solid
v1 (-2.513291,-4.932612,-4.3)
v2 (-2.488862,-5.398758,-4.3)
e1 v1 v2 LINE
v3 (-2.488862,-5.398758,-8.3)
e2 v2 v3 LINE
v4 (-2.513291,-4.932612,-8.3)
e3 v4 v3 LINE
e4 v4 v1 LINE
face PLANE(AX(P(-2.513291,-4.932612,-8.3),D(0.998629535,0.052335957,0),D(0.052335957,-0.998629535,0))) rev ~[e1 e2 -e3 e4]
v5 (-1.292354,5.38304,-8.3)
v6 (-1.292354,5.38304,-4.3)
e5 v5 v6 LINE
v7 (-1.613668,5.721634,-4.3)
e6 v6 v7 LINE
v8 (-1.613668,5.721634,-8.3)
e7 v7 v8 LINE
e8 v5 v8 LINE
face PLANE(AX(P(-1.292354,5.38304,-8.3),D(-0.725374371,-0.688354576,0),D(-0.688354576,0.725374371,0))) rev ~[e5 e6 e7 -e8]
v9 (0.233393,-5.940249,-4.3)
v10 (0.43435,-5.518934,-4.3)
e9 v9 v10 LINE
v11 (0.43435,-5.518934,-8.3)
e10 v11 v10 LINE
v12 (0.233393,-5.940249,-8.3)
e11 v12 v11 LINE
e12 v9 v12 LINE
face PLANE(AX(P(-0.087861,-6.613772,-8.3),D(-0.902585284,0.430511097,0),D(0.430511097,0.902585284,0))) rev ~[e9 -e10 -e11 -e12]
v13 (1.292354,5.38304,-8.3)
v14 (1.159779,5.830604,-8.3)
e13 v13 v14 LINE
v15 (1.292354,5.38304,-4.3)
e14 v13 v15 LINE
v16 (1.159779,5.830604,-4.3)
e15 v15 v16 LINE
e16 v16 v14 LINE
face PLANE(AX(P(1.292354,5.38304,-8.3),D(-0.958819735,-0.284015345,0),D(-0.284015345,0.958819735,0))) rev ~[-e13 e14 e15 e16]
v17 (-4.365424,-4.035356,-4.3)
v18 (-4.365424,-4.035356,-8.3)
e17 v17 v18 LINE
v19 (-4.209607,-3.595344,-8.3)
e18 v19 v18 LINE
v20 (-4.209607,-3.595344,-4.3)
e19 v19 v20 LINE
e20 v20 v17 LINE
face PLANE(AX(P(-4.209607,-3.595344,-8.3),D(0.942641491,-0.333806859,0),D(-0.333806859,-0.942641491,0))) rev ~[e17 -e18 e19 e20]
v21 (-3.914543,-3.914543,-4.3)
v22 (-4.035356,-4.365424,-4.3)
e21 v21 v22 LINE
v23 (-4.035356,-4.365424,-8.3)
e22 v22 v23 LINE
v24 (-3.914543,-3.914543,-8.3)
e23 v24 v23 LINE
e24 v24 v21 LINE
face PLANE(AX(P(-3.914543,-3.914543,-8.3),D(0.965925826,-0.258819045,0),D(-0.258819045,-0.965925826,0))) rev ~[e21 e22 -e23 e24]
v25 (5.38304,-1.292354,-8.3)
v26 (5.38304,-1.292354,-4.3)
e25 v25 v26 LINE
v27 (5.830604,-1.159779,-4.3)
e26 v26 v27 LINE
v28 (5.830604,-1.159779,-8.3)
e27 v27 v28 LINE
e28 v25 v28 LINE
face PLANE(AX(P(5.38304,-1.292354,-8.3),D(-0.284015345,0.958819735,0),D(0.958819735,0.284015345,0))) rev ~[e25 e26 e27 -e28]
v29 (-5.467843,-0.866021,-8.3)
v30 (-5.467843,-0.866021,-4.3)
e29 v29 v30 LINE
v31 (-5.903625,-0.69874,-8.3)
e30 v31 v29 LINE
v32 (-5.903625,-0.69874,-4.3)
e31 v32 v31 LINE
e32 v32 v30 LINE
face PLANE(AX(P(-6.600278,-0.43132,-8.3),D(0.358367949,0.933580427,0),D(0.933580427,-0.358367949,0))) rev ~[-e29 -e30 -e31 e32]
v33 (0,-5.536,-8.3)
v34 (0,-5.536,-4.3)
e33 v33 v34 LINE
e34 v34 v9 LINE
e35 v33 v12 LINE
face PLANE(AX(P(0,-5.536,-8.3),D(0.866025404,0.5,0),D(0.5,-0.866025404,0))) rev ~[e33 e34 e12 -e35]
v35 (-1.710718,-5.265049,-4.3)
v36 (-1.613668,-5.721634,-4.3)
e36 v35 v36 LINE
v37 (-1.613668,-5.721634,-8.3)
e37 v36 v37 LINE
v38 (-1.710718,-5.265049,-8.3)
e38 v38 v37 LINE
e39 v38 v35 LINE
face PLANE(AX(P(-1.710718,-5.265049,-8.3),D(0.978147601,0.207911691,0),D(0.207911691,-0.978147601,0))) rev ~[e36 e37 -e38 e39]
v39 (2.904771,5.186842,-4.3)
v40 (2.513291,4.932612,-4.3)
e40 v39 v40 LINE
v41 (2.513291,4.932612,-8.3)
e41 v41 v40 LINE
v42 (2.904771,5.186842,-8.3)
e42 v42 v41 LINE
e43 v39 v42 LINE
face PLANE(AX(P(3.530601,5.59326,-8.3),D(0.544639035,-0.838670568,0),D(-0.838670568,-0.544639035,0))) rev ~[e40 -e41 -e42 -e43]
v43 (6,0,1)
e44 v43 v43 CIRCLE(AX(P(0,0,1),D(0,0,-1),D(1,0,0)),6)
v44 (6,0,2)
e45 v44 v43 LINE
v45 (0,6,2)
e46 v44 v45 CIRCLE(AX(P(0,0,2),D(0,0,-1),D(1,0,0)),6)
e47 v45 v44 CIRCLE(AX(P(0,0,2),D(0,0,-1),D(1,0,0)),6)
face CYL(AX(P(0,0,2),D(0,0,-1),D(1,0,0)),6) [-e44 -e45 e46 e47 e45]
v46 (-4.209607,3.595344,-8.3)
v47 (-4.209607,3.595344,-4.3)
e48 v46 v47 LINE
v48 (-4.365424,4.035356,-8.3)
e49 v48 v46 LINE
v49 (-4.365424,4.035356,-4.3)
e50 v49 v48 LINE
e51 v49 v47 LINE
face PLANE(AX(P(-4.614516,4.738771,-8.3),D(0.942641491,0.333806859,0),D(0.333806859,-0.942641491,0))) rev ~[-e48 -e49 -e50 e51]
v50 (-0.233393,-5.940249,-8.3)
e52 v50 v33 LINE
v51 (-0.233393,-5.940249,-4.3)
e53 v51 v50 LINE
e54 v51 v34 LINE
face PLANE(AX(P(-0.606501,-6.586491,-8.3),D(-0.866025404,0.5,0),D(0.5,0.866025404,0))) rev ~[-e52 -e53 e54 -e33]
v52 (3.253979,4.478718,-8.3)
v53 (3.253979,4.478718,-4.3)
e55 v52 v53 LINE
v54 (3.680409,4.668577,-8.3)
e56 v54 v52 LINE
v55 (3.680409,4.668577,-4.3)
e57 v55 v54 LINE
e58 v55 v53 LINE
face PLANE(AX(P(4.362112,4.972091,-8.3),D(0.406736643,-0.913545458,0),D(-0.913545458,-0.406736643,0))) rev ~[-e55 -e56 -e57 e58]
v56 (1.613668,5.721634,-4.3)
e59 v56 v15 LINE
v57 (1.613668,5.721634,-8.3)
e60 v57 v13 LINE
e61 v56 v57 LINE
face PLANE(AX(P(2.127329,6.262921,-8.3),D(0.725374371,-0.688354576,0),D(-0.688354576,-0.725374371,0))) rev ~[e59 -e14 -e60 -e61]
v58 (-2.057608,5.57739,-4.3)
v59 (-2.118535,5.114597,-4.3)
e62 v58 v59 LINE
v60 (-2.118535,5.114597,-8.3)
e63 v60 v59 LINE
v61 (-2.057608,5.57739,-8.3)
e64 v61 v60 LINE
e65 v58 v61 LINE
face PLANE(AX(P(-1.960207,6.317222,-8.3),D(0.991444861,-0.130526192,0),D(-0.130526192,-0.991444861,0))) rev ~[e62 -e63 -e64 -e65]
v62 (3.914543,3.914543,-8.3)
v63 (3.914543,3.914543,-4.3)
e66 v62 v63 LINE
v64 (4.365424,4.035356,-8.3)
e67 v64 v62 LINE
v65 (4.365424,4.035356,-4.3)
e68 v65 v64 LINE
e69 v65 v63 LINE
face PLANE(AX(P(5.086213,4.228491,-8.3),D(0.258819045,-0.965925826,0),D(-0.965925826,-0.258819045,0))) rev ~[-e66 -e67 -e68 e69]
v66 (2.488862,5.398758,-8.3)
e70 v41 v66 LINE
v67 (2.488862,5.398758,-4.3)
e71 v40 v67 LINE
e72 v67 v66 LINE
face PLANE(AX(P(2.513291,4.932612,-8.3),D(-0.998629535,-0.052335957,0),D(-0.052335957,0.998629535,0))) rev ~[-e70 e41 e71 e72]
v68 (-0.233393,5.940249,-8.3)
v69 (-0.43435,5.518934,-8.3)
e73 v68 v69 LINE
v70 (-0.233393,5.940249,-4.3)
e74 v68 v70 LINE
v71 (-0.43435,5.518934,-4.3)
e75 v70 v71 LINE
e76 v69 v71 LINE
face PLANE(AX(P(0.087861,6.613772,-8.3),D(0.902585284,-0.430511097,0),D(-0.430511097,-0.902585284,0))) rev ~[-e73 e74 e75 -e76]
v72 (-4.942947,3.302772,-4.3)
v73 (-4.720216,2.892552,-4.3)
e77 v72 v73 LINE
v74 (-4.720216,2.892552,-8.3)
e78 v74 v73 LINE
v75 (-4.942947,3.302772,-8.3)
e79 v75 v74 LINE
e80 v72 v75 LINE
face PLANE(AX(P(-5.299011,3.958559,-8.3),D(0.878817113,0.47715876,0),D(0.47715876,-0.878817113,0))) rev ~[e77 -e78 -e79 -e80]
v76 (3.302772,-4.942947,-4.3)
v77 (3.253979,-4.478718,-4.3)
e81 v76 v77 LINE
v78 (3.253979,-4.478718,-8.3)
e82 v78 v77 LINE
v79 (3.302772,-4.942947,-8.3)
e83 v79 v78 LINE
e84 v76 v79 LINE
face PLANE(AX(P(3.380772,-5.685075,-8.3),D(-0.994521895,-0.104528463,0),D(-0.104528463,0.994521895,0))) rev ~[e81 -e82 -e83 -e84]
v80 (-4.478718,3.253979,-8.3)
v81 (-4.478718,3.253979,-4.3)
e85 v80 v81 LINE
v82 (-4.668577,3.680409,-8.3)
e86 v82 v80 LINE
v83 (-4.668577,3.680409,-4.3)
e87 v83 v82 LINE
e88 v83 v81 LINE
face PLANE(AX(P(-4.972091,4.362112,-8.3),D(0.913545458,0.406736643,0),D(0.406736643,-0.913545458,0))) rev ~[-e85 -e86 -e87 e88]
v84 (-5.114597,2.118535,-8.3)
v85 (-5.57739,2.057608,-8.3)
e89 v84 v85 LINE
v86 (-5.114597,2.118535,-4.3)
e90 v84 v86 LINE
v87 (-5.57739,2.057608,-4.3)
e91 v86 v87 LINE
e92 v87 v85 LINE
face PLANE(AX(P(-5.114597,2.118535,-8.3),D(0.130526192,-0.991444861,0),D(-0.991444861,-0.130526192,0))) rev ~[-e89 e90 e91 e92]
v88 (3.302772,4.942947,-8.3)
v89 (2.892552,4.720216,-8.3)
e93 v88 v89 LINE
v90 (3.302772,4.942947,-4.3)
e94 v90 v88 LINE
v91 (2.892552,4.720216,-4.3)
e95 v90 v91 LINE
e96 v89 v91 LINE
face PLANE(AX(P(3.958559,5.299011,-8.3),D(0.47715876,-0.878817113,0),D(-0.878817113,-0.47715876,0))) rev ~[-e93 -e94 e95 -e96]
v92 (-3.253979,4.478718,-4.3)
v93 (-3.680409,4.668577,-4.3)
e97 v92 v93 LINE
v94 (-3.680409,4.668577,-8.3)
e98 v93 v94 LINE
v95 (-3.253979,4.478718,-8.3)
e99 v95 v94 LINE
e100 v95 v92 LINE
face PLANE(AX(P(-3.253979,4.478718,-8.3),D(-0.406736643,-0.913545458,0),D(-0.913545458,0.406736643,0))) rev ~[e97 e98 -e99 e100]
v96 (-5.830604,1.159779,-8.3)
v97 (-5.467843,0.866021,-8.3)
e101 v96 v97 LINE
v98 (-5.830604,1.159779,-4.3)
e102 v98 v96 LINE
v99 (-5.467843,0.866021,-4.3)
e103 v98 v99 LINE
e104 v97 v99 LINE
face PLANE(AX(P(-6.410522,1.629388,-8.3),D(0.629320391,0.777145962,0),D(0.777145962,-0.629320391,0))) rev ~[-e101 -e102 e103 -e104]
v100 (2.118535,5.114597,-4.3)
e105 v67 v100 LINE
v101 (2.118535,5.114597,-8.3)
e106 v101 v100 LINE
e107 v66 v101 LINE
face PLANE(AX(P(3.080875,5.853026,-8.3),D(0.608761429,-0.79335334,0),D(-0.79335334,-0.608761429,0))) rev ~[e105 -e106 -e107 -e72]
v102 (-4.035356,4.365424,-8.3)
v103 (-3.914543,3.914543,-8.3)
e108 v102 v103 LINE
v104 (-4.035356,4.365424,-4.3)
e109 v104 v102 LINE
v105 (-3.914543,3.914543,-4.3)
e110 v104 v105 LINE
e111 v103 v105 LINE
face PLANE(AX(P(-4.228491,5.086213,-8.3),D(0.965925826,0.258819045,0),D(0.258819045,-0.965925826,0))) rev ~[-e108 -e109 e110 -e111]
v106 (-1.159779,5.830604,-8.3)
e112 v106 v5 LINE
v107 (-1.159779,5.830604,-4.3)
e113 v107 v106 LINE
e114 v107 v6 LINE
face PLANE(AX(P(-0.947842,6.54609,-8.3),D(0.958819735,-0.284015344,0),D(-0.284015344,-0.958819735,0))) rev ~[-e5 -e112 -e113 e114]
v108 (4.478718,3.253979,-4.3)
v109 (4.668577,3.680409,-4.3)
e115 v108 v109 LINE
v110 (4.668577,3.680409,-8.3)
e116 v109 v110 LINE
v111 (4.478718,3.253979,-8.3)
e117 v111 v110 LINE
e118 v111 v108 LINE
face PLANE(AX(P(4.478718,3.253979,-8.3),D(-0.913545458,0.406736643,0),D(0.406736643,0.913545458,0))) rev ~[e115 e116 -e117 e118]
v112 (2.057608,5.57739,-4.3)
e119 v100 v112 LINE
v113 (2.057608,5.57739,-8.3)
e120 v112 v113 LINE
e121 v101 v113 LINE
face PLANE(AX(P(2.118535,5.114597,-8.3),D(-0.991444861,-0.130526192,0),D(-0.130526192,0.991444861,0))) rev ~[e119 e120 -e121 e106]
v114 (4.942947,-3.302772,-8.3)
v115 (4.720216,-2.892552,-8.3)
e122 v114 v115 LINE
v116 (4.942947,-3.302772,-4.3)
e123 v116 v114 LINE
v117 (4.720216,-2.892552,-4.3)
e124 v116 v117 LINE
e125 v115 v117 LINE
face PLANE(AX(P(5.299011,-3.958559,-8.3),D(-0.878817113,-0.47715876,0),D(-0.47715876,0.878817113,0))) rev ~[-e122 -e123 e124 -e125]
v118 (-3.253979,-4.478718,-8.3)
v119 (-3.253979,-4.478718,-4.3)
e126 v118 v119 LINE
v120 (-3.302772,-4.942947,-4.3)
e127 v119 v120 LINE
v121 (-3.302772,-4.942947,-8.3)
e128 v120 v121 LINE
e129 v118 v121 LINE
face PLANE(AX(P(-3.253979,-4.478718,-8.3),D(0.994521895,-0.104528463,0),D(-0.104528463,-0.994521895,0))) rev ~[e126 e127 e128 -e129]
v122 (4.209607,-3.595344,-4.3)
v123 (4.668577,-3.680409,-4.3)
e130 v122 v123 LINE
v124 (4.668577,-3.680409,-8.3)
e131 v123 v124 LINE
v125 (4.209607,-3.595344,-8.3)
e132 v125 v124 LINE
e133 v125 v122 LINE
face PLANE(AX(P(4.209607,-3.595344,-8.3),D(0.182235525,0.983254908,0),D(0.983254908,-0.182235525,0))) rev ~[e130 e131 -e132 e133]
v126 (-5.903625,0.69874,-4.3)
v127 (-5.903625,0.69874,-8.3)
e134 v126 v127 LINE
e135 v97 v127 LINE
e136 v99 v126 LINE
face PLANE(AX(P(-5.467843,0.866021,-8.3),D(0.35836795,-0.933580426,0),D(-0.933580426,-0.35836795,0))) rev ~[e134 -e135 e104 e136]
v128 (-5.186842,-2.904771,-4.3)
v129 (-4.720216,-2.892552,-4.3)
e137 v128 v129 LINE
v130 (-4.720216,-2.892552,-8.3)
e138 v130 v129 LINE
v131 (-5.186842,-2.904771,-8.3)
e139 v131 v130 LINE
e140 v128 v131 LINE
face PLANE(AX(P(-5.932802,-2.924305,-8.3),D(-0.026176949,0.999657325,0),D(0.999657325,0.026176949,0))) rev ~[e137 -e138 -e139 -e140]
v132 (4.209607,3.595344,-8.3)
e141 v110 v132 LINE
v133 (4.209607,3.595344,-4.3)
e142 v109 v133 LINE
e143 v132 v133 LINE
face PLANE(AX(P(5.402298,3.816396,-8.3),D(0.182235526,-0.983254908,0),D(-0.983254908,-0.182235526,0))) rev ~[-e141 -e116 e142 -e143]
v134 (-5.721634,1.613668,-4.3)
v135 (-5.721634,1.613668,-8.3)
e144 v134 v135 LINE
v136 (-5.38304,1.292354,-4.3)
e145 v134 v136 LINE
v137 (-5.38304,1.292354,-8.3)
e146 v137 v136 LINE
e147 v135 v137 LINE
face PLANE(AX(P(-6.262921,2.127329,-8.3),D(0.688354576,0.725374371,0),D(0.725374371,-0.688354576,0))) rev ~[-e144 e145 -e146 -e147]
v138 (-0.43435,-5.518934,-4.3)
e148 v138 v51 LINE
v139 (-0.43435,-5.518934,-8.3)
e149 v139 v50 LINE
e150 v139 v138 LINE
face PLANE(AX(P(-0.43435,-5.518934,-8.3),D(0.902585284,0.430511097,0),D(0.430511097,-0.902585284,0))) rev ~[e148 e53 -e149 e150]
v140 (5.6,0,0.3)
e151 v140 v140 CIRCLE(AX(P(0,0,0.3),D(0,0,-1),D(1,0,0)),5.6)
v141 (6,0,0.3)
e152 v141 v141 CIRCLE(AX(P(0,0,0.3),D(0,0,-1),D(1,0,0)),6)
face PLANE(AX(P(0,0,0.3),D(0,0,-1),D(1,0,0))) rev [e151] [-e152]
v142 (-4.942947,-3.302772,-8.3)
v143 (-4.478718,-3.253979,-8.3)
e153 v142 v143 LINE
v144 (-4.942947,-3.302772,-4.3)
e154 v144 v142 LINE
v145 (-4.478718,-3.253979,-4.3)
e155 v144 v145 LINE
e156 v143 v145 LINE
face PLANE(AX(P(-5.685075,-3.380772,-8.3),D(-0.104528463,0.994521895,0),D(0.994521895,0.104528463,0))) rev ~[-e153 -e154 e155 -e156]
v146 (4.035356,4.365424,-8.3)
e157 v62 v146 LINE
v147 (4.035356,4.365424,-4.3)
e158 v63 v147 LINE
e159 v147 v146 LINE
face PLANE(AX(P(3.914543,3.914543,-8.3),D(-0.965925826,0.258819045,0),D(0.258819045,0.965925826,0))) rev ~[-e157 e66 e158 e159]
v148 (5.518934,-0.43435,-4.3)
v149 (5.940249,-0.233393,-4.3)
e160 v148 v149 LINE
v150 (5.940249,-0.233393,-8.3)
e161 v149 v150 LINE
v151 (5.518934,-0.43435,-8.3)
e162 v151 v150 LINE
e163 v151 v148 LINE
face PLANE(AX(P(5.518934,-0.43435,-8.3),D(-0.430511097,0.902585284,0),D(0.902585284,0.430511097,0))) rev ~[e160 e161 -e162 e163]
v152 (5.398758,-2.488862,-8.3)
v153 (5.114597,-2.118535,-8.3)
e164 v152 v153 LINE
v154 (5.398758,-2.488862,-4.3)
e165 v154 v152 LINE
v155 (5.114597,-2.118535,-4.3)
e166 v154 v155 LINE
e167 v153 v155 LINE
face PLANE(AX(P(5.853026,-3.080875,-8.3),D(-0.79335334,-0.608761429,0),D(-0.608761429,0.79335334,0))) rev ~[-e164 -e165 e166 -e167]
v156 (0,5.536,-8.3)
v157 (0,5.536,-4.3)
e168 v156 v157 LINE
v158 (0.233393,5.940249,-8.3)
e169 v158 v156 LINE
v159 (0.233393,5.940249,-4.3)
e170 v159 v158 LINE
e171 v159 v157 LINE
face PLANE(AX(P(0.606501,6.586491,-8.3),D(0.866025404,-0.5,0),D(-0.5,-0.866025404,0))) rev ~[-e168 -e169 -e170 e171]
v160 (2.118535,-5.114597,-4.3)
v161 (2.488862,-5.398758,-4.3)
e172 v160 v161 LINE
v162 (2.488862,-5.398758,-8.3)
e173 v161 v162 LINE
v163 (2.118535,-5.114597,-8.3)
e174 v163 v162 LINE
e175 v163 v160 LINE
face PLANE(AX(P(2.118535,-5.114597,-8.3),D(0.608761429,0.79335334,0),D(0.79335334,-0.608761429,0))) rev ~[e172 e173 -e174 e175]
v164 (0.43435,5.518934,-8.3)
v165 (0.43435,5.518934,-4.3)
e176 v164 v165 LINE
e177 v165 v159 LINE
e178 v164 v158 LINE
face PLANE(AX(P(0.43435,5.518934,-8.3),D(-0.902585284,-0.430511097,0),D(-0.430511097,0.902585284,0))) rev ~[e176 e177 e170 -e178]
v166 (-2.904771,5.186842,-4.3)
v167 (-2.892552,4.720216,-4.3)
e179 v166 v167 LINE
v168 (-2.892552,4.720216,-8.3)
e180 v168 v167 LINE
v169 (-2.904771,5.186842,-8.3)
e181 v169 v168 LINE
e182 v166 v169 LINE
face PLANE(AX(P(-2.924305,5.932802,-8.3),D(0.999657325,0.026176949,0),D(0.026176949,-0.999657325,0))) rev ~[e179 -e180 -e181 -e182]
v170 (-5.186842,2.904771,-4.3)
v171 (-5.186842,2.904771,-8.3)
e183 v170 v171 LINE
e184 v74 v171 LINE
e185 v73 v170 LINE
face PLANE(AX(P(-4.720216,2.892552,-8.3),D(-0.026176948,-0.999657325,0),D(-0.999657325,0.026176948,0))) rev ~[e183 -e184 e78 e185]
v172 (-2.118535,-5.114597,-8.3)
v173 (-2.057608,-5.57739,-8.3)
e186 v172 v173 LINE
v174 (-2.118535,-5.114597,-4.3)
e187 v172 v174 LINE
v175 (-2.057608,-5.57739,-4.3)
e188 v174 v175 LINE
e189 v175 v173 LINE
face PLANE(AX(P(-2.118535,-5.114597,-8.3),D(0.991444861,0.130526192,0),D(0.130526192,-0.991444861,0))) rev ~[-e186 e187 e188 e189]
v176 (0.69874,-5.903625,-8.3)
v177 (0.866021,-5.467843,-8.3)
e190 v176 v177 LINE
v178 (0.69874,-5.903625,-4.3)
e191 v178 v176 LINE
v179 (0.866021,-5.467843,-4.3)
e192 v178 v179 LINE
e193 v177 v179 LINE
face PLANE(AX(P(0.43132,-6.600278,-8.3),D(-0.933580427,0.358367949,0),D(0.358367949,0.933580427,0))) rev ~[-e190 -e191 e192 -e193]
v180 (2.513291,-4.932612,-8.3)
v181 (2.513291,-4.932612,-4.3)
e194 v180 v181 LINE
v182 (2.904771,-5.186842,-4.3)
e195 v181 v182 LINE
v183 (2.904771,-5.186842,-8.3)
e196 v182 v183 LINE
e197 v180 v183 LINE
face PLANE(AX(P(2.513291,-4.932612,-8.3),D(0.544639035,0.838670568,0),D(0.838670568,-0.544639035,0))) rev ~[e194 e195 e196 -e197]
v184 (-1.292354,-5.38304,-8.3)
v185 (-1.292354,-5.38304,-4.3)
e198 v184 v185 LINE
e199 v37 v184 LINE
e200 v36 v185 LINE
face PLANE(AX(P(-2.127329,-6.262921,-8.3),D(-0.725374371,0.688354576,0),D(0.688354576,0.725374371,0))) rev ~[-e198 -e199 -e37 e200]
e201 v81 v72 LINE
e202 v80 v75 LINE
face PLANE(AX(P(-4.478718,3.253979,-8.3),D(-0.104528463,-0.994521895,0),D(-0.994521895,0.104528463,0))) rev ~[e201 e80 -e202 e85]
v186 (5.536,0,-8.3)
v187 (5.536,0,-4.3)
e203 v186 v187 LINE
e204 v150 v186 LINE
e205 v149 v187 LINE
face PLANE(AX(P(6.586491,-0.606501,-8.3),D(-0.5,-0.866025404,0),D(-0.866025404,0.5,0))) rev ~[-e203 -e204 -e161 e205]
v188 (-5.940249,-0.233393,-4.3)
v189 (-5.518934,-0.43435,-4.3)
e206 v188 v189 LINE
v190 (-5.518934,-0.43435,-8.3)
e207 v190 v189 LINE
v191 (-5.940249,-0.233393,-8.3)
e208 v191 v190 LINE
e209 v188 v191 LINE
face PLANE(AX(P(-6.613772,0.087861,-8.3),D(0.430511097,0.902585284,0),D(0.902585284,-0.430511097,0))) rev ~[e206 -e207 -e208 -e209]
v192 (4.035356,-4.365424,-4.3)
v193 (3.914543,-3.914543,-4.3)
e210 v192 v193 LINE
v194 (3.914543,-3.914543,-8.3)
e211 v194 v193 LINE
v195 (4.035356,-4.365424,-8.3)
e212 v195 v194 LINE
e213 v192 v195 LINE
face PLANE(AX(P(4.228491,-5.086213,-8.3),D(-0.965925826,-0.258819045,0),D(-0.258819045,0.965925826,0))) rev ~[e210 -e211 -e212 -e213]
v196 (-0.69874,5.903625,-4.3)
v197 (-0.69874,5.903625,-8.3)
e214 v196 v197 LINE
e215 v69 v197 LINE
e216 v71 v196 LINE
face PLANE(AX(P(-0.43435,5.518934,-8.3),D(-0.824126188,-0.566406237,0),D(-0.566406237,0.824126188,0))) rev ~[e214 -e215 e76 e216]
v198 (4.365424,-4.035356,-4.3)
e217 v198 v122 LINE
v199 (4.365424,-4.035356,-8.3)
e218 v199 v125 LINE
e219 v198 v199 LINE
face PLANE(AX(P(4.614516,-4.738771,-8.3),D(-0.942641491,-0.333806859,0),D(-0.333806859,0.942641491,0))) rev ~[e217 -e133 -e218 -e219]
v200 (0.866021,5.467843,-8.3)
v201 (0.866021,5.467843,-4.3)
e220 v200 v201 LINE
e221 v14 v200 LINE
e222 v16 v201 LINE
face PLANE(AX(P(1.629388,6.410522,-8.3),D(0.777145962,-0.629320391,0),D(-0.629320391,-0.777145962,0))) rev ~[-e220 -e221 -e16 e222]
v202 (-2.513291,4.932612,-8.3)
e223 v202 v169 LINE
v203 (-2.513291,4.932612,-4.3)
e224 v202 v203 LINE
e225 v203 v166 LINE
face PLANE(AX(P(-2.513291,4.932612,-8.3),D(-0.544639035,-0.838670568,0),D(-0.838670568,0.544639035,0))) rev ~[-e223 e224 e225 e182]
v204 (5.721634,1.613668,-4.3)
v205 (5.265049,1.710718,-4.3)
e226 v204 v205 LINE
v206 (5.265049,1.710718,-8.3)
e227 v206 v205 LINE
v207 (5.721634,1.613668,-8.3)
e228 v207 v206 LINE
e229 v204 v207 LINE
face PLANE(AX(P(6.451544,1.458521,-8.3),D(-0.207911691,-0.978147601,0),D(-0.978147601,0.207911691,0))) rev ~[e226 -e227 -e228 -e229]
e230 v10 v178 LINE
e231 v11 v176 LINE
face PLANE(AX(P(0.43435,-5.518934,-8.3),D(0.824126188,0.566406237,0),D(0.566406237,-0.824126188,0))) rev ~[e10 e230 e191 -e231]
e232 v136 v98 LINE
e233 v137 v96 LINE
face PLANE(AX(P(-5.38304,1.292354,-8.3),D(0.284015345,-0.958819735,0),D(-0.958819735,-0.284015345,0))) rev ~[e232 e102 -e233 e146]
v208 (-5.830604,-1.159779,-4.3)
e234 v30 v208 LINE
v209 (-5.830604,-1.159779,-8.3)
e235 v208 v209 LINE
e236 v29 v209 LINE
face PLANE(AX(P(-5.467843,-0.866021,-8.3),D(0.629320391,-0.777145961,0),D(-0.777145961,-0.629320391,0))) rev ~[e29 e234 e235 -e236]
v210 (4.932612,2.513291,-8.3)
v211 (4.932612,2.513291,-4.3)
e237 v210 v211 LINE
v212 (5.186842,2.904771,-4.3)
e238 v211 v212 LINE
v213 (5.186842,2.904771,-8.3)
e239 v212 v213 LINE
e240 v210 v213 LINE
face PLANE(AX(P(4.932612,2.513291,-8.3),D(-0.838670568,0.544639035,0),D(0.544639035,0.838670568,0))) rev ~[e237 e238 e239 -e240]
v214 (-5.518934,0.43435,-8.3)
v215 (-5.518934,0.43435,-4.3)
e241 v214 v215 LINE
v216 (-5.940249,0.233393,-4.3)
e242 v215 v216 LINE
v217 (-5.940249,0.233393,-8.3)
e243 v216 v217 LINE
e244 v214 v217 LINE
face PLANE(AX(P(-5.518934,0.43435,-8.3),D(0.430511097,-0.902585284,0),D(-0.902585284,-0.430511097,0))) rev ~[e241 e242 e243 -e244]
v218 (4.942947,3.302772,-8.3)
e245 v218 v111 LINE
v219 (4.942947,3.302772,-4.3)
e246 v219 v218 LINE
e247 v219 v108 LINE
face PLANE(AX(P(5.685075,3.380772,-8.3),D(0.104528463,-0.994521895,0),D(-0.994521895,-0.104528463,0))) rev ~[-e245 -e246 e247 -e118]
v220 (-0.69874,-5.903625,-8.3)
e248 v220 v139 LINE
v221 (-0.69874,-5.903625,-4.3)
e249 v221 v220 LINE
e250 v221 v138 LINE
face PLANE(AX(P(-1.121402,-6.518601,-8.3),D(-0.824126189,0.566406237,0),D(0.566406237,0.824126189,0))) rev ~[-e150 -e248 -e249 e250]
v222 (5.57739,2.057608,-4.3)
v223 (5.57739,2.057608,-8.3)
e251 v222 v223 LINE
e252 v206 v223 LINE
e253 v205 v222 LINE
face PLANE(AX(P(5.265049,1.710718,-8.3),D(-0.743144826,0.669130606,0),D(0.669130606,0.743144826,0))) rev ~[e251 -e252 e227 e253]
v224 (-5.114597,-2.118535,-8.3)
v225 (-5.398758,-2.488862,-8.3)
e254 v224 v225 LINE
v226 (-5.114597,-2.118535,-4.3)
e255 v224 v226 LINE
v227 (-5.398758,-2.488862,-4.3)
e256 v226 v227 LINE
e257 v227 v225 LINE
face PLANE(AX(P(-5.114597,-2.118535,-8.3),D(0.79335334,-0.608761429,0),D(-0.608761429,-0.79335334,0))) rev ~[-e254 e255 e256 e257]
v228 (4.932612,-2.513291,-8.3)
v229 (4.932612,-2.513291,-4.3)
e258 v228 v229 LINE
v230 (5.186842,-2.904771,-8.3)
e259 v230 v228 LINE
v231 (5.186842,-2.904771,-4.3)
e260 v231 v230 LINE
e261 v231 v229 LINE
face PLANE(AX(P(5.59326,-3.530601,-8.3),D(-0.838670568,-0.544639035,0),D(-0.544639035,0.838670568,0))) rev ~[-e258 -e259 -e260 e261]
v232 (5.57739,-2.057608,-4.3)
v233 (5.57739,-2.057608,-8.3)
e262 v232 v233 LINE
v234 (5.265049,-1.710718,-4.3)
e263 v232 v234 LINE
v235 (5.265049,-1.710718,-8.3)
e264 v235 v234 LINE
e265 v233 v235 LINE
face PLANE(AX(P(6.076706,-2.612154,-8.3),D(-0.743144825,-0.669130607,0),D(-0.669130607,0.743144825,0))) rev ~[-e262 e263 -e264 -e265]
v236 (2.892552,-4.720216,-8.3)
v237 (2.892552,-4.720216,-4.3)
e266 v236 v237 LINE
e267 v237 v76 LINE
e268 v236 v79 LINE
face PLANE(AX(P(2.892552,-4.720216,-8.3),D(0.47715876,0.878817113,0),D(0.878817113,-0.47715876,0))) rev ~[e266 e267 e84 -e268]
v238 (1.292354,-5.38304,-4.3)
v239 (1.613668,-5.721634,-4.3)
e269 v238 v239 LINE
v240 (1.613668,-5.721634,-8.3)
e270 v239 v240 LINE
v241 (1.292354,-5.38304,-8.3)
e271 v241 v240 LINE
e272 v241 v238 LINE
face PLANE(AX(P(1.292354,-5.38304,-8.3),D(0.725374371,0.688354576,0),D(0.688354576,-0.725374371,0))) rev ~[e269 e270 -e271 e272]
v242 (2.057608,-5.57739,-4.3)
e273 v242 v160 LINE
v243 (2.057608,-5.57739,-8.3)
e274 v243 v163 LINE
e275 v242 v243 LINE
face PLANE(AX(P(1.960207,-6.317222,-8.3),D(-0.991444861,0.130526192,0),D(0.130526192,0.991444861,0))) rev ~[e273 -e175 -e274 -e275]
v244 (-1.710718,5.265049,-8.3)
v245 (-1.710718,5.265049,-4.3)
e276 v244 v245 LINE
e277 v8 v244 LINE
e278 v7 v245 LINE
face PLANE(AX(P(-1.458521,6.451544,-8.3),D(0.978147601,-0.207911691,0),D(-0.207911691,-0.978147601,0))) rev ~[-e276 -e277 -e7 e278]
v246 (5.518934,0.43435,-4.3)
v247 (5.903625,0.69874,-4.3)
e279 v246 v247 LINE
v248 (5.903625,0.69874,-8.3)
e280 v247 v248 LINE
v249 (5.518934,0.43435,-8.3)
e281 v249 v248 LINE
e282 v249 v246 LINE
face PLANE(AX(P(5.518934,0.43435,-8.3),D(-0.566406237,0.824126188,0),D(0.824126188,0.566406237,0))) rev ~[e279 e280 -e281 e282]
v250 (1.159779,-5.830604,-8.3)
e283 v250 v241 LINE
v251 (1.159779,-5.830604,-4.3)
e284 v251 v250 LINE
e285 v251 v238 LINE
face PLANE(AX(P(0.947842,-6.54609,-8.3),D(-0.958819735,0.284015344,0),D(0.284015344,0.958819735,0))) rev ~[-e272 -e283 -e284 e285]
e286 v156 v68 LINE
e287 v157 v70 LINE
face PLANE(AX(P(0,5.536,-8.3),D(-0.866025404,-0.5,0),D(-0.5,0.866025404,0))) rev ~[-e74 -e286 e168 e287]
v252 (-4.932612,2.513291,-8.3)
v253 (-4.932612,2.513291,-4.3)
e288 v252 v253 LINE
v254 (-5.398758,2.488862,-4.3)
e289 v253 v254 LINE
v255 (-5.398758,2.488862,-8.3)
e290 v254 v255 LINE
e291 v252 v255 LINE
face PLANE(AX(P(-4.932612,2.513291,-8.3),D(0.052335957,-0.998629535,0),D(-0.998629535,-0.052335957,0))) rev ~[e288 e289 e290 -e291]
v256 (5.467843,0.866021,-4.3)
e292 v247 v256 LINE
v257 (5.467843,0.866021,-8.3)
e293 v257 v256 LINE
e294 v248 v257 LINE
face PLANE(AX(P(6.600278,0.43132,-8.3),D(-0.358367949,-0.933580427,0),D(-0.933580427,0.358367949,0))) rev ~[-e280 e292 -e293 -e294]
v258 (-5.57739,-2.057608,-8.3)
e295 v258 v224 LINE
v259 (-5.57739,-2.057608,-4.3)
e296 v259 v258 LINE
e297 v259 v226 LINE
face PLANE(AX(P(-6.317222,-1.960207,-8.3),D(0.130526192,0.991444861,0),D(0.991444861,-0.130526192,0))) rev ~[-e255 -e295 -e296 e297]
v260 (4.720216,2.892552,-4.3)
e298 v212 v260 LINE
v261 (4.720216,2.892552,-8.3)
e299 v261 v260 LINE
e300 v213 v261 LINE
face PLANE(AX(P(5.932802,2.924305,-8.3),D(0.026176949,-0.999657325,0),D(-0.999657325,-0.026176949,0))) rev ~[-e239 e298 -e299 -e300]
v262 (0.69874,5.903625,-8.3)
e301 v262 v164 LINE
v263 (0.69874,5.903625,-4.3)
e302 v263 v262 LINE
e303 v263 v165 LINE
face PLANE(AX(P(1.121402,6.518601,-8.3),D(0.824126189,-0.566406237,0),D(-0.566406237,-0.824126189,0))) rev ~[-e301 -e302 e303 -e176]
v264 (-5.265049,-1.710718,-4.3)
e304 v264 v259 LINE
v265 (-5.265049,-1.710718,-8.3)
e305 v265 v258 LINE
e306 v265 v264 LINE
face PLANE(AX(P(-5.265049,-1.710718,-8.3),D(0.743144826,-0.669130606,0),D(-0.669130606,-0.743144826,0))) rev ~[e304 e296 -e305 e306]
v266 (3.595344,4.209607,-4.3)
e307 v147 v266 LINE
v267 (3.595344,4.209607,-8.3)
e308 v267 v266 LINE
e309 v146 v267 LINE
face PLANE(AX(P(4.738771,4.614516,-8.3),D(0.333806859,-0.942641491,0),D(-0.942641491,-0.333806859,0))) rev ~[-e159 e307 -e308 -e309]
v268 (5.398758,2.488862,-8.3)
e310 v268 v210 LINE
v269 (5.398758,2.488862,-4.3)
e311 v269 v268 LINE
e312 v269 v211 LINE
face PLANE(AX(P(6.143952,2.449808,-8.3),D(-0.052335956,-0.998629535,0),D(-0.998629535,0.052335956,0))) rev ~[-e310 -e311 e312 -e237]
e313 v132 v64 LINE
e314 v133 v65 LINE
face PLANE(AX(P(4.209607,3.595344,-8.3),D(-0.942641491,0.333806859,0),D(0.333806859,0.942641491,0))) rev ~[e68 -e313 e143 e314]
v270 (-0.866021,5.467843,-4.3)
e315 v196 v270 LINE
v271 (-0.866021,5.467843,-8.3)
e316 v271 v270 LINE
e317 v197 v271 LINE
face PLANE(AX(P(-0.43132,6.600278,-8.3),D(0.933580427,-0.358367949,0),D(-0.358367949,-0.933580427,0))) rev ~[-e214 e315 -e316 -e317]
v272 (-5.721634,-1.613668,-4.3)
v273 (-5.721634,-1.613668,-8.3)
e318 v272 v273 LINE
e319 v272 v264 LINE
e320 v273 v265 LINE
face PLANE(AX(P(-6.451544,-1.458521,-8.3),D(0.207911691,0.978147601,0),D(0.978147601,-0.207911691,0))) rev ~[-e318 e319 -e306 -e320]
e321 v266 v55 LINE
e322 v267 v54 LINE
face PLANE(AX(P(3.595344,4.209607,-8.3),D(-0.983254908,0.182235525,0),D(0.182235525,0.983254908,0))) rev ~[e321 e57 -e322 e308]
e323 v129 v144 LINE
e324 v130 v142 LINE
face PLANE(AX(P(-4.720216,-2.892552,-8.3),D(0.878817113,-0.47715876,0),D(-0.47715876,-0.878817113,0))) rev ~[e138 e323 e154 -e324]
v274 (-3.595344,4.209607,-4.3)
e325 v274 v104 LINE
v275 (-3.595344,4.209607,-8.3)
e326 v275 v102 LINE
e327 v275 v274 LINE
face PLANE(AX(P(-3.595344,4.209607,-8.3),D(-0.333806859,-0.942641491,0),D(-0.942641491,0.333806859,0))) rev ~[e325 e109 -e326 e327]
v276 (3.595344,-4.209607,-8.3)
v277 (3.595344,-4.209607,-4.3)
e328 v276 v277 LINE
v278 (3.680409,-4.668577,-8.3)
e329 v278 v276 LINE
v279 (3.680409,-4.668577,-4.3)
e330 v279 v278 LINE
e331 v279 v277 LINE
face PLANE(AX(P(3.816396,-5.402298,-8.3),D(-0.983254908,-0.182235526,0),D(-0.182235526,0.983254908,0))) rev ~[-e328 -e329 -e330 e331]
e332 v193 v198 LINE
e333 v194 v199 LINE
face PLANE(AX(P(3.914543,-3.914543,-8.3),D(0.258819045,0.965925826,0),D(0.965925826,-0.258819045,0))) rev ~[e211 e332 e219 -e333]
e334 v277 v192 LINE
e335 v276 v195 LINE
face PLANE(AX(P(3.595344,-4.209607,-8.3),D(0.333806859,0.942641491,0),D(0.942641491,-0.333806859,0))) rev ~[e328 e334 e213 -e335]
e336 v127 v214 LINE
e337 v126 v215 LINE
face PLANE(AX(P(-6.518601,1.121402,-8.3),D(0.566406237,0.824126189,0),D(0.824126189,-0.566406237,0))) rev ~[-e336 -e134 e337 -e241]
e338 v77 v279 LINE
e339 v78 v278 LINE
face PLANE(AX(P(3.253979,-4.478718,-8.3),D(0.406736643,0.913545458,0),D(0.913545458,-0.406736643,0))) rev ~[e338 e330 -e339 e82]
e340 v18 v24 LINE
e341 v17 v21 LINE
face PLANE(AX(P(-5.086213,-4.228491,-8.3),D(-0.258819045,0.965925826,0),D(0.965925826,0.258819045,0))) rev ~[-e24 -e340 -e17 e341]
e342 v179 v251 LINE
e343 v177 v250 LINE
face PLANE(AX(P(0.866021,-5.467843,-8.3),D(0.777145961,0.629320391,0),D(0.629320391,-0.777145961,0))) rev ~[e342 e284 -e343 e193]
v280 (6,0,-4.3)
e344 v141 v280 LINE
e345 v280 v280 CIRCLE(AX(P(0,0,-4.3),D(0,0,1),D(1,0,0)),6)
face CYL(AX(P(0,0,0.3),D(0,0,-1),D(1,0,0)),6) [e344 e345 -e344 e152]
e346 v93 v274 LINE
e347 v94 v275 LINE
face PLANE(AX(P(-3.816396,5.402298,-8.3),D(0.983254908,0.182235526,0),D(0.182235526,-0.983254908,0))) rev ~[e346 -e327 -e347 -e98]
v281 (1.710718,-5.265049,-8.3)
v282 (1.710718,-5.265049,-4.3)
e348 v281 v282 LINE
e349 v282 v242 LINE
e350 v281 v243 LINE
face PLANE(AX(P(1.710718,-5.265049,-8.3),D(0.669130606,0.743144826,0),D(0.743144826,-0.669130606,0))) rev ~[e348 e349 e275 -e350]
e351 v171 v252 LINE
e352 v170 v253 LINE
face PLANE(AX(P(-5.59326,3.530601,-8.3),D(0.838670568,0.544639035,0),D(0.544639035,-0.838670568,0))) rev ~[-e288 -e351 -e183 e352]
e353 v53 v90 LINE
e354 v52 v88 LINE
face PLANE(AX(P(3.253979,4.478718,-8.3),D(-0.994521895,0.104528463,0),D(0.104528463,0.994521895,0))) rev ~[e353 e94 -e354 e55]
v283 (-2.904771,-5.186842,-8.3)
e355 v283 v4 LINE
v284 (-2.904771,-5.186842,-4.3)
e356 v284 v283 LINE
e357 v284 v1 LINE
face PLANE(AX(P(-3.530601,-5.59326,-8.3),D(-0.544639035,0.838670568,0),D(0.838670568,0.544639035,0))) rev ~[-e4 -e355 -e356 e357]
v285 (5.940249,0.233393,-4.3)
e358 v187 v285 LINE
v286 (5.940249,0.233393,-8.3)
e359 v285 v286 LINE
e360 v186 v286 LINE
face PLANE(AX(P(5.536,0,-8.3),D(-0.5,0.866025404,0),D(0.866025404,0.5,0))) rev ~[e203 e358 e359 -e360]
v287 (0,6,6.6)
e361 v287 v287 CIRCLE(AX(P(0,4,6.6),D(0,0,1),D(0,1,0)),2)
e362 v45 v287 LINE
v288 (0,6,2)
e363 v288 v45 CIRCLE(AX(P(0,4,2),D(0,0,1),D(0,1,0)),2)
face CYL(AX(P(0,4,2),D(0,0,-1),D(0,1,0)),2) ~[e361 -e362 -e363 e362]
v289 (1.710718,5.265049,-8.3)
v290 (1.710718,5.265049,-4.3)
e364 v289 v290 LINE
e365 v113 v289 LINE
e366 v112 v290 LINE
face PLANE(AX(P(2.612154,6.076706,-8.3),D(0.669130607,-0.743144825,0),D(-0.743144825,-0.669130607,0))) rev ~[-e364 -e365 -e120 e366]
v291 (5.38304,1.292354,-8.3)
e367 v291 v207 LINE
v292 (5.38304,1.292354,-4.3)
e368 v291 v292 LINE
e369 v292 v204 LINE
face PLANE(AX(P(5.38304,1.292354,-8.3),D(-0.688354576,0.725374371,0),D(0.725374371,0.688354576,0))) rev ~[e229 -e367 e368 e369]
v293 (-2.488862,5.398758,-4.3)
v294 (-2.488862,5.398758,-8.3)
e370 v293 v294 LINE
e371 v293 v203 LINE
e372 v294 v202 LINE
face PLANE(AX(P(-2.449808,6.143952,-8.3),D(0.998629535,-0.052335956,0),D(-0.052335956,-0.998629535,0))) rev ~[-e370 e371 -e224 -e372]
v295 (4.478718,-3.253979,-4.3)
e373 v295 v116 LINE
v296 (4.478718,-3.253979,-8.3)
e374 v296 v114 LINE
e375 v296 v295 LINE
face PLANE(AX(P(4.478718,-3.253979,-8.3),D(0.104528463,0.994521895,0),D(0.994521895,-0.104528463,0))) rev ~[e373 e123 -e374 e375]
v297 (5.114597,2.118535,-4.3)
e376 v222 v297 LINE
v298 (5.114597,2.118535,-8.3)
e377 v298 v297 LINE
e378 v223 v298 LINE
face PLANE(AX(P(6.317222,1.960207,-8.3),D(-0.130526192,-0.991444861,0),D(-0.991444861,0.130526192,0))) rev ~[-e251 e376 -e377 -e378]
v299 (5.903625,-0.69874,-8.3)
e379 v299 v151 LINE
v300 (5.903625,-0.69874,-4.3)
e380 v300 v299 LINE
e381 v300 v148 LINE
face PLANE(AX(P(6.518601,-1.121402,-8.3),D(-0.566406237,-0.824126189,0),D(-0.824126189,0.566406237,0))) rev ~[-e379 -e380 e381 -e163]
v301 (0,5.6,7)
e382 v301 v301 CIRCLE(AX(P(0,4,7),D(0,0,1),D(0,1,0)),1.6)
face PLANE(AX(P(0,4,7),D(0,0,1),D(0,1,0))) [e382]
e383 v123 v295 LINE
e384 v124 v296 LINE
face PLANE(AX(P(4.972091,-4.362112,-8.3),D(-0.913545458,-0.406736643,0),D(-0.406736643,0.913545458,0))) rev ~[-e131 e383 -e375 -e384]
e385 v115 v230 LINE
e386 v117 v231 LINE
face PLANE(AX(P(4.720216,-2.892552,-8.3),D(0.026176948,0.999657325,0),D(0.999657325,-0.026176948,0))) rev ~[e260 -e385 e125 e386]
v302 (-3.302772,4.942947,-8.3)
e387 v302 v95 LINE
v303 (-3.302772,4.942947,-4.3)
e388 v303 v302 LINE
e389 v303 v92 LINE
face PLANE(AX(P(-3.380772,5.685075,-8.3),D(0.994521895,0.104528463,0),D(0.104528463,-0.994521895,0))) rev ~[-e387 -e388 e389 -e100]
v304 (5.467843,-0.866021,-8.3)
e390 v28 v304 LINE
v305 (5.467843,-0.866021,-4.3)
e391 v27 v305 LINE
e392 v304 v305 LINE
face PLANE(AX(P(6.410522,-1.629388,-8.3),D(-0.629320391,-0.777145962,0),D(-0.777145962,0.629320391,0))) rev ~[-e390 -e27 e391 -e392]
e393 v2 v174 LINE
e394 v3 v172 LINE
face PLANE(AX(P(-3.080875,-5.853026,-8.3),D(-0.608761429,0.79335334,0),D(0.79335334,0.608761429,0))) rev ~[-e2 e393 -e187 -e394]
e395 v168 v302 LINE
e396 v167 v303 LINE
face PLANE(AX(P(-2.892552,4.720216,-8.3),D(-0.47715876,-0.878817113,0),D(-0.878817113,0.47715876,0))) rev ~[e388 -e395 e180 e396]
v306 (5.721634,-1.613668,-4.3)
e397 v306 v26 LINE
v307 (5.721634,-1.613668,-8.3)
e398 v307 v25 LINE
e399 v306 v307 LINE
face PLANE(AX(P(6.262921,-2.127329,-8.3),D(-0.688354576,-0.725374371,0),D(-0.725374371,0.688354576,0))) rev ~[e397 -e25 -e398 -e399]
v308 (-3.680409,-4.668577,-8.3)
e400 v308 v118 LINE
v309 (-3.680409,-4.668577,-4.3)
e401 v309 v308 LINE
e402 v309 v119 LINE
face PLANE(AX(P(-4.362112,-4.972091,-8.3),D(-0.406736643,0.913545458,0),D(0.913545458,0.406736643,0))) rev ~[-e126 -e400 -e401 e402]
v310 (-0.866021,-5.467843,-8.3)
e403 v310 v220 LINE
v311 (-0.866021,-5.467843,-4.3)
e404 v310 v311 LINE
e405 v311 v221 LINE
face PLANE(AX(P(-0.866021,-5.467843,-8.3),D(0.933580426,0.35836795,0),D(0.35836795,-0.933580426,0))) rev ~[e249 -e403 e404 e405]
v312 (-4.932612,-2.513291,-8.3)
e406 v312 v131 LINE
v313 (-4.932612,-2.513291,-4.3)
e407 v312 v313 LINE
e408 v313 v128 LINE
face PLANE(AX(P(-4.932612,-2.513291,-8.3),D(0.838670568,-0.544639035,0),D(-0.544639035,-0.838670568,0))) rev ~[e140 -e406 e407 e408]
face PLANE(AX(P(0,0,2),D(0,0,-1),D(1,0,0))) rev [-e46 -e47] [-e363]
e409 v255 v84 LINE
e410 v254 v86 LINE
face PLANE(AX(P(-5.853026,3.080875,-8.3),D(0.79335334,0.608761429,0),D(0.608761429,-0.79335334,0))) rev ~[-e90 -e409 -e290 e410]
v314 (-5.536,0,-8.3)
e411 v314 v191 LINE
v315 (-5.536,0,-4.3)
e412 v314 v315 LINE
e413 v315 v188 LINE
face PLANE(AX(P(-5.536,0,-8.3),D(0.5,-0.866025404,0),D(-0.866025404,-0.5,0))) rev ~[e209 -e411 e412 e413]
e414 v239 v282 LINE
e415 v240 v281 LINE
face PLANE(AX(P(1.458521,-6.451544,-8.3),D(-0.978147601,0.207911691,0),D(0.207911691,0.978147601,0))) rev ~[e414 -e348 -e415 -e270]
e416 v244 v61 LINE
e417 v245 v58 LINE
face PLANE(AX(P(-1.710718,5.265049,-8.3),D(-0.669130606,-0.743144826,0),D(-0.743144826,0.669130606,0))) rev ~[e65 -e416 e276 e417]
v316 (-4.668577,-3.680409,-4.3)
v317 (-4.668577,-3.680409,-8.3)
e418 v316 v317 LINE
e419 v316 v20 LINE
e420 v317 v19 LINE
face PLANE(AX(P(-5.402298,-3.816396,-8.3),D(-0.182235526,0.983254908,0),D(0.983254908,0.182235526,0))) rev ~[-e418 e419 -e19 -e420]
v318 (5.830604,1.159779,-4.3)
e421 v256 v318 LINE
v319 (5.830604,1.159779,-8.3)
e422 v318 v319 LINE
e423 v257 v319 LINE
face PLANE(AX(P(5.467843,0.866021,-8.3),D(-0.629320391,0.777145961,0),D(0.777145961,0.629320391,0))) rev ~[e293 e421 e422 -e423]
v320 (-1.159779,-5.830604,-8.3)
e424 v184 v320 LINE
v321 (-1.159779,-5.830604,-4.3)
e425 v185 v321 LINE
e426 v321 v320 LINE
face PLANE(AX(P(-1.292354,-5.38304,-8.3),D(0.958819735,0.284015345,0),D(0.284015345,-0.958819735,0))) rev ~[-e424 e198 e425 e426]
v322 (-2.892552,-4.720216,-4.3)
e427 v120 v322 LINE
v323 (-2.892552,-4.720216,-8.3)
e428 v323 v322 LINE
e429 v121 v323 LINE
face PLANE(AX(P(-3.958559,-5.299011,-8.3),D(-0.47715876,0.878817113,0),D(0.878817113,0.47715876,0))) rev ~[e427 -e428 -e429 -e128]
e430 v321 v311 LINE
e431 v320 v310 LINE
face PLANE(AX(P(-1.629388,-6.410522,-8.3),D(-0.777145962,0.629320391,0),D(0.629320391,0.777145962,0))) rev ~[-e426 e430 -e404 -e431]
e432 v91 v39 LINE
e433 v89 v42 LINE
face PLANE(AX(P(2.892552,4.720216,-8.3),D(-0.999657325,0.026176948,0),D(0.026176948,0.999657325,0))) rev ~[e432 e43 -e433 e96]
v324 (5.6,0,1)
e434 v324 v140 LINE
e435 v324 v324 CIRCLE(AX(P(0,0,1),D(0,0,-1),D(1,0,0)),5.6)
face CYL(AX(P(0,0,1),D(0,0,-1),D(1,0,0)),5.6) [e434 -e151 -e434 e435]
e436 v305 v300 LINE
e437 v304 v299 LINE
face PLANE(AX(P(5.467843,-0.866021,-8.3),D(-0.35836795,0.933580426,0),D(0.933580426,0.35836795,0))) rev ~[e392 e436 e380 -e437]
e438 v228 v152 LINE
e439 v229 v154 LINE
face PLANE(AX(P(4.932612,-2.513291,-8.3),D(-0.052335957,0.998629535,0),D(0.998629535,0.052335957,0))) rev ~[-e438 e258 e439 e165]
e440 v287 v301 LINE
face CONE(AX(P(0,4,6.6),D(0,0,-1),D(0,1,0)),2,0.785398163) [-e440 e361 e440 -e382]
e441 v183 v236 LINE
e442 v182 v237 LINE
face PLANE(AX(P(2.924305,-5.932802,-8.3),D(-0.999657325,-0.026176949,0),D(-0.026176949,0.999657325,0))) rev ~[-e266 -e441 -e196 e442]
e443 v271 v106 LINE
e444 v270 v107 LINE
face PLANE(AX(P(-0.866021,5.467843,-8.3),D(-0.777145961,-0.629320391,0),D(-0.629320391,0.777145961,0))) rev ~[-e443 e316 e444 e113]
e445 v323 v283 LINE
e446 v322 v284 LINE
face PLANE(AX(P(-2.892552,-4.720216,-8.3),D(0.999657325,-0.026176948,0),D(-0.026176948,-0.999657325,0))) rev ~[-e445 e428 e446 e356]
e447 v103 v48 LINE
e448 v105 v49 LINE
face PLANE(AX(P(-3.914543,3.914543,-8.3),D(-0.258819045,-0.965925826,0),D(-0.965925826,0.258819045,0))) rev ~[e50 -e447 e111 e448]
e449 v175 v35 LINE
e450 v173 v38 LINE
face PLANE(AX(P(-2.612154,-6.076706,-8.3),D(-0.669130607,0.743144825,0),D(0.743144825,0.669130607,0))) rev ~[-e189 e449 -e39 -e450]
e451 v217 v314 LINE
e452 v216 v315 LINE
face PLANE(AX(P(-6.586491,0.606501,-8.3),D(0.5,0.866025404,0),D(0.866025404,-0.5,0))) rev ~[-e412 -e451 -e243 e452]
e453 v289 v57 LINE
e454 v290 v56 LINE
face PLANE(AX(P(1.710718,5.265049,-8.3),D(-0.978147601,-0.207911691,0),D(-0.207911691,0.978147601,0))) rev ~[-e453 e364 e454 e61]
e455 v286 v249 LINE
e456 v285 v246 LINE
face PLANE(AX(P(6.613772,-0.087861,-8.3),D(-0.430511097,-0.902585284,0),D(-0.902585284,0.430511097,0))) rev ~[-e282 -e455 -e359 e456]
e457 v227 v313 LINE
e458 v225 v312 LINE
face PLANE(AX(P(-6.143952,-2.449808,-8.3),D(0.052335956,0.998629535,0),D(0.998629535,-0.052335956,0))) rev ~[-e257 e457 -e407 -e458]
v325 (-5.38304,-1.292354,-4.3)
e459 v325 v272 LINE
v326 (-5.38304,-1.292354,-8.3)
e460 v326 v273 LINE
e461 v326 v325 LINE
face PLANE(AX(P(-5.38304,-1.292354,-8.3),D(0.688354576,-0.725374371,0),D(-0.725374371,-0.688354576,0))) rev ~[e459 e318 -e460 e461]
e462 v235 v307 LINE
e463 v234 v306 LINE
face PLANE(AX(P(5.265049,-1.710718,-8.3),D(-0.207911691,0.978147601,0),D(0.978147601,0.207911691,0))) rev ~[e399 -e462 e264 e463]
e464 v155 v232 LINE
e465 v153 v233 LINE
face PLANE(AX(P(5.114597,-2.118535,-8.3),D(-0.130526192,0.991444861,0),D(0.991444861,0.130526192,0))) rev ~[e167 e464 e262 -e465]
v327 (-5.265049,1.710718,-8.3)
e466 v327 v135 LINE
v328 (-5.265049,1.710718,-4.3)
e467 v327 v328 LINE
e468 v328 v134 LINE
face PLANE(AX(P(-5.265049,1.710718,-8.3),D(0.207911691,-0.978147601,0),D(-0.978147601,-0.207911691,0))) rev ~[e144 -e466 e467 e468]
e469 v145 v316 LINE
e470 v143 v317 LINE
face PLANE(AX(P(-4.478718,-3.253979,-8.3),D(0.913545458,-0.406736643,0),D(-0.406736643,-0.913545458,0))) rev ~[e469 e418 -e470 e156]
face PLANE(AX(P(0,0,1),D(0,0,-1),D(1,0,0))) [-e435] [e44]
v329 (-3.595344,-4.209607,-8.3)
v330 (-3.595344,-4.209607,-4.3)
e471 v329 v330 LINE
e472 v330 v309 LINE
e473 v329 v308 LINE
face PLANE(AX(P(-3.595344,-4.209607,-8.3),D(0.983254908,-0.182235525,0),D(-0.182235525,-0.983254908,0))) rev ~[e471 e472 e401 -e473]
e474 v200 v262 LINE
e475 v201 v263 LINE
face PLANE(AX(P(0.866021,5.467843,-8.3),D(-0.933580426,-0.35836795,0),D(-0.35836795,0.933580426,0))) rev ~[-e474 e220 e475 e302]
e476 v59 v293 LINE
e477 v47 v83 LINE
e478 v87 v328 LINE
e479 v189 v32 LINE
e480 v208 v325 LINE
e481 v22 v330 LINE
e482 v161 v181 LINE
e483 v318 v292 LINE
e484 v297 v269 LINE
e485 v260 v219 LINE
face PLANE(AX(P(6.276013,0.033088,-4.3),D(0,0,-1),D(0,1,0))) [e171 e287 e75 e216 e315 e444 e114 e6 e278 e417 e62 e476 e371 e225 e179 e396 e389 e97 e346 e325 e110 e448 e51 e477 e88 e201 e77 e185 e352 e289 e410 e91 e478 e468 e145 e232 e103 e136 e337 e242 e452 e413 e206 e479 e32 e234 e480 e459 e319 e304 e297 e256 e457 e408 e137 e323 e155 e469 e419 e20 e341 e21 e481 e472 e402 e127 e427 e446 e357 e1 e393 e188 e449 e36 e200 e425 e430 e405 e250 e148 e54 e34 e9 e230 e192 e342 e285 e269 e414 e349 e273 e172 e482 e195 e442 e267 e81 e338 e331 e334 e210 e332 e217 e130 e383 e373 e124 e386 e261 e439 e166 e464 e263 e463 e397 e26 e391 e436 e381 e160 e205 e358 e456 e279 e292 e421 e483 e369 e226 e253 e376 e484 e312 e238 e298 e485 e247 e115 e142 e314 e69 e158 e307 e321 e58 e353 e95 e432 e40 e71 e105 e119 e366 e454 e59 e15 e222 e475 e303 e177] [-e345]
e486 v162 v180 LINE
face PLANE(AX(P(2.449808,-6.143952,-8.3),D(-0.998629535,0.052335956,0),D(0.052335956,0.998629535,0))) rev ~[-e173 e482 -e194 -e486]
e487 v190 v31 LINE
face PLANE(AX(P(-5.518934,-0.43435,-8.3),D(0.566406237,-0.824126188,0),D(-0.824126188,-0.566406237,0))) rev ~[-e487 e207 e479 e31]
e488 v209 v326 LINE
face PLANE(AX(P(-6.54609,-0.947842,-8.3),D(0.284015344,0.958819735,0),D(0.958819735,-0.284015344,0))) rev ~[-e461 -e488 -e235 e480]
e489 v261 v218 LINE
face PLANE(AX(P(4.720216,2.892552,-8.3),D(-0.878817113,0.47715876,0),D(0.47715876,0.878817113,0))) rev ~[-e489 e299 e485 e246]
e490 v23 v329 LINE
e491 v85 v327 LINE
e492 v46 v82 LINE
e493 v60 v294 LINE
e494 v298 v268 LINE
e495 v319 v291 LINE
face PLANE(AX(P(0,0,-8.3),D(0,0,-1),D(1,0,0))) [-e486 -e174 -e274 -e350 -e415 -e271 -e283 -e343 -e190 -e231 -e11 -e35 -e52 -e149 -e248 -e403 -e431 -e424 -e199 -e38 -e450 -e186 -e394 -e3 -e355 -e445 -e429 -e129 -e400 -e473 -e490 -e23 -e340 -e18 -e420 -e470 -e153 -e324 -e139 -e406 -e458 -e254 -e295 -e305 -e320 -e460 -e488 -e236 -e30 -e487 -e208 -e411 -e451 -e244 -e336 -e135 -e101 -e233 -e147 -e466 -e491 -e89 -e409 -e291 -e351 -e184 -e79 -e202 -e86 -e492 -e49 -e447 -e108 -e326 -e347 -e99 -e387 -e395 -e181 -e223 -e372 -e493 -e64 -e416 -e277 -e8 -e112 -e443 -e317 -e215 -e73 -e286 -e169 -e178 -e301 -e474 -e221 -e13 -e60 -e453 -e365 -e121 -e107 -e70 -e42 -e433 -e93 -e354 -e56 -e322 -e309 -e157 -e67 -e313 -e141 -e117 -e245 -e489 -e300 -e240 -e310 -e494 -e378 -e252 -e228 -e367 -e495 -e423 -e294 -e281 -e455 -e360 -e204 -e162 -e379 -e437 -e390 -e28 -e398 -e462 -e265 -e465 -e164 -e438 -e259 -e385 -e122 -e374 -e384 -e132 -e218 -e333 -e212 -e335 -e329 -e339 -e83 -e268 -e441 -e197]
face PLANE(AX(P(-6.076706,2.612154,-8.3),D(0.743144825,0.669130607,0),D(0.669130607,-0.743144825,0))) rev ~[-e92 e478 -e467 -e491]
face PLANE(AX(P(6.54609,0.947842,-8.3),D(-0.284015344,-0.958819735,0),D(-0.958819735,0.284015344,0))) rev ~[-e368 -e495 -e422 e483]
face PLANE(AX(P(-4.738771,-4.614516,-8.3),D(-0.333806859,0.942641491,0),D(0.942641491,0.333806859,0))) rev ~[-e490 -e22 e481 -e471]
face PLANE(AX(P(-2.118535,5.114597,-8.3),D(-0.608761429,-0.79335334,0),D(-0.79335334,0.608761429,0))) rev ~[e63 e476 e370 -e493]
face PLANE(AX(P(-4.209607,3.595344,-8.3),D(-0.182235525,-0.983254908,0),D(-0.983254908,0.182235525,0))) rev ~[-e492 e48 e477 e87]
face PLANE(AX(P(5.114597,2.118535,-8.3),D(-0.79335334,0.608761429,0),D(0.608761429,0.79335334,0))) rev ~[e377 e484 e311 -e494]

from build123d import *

# Parameters (mm, degrees)
ESQUISSE2_R                  = 2
EXTRUSION1_DEPTH             = 5
CHANFREIN1_SIZE              = 0.4
ENL_V_MAT_EXTRU_1_DEPTH      = 4
R_P_TITION_CIRCULAIRE1_COUNT = 80
R_P_TITION_CIRCULAIRE1_ANGLE = 355.5


with BuildPart() as part:
    # Esquisse1 → Révolution1 (revolve)
    with BuildSketch(Plane(origin=(0, 0, 0), x_dir=(0, 0, -1), z_dir=(1, 0, 0)), mode=Mode.PRIVATE) as r_volution1_sk:
        Polygon((-0.3, 6), (8.3, 6), (8.3, 0), (-2, 0), (-2, 6), (-1, 6), (-1, 5.6), (-0.3, 5.6), align=None)
    revolve(r_volution1_sk.sketch.rotate(Axis((0, 0, 13.12672), (0, 0, -1)), 90), axis=Axis((0, 0, 13.12672), (0, 0, -1)))

    # Esquisse2 → Extrusion1 (add)
    with BuildSketch(Plane.XY.offset(2)):
        with Locations(Location((0, 4, 0), (0, 0, 90))):
            Circle(ESQUISSE2_R)
    extrude(amount=EXTRUSION1_DEPTH)

    # Chanfrein1
    chanfrein1_edges = [part.edges().sort_by_distance(p)[0] for p in [
        (0, 2, 7),
    ]]
    chamfer(chanfrein1_edges, length=CHANFREIN1_SIZE)

    # Esquisse3 → Enlèv. mat.-Extru.1 (cut)
    with BuildSketch(Plane(origin=(0, 0, -8.3), x_dir=(-1, 0, 0), z_dir=(0, 0, -1))):
        Polygon((-0.606501076, 6.586490679), (0, 5.536), (0.672676908, 6.701110581), align=None)
    enl_v_mat_extru_1 = extrude(amount=-ENL_V_MAT_EXTRU_1_DEPTH, mode=Mode.SUBTRACT)

    # Répétition circulaire1: Enlèv. mat.-Extru.1 ×80 about axis
    r_p_tition_circulaire1_axis = Axis((0, 0, 13.12672), (0, 0, -1))
    for i in range(1, R_P_TITION_CIRCULAIRE1_COUNT):
        add(enl_v_mat_extru_1.rotate(r_p_tition_circulaire1_axis, i * R_P_TITION_CIRCULAIRE1_ANGLE / (R_P_TITION_CIRCULAIRE1_COUNT - 1)), mode=Mode.SUBTRACT)


solid = part.part
